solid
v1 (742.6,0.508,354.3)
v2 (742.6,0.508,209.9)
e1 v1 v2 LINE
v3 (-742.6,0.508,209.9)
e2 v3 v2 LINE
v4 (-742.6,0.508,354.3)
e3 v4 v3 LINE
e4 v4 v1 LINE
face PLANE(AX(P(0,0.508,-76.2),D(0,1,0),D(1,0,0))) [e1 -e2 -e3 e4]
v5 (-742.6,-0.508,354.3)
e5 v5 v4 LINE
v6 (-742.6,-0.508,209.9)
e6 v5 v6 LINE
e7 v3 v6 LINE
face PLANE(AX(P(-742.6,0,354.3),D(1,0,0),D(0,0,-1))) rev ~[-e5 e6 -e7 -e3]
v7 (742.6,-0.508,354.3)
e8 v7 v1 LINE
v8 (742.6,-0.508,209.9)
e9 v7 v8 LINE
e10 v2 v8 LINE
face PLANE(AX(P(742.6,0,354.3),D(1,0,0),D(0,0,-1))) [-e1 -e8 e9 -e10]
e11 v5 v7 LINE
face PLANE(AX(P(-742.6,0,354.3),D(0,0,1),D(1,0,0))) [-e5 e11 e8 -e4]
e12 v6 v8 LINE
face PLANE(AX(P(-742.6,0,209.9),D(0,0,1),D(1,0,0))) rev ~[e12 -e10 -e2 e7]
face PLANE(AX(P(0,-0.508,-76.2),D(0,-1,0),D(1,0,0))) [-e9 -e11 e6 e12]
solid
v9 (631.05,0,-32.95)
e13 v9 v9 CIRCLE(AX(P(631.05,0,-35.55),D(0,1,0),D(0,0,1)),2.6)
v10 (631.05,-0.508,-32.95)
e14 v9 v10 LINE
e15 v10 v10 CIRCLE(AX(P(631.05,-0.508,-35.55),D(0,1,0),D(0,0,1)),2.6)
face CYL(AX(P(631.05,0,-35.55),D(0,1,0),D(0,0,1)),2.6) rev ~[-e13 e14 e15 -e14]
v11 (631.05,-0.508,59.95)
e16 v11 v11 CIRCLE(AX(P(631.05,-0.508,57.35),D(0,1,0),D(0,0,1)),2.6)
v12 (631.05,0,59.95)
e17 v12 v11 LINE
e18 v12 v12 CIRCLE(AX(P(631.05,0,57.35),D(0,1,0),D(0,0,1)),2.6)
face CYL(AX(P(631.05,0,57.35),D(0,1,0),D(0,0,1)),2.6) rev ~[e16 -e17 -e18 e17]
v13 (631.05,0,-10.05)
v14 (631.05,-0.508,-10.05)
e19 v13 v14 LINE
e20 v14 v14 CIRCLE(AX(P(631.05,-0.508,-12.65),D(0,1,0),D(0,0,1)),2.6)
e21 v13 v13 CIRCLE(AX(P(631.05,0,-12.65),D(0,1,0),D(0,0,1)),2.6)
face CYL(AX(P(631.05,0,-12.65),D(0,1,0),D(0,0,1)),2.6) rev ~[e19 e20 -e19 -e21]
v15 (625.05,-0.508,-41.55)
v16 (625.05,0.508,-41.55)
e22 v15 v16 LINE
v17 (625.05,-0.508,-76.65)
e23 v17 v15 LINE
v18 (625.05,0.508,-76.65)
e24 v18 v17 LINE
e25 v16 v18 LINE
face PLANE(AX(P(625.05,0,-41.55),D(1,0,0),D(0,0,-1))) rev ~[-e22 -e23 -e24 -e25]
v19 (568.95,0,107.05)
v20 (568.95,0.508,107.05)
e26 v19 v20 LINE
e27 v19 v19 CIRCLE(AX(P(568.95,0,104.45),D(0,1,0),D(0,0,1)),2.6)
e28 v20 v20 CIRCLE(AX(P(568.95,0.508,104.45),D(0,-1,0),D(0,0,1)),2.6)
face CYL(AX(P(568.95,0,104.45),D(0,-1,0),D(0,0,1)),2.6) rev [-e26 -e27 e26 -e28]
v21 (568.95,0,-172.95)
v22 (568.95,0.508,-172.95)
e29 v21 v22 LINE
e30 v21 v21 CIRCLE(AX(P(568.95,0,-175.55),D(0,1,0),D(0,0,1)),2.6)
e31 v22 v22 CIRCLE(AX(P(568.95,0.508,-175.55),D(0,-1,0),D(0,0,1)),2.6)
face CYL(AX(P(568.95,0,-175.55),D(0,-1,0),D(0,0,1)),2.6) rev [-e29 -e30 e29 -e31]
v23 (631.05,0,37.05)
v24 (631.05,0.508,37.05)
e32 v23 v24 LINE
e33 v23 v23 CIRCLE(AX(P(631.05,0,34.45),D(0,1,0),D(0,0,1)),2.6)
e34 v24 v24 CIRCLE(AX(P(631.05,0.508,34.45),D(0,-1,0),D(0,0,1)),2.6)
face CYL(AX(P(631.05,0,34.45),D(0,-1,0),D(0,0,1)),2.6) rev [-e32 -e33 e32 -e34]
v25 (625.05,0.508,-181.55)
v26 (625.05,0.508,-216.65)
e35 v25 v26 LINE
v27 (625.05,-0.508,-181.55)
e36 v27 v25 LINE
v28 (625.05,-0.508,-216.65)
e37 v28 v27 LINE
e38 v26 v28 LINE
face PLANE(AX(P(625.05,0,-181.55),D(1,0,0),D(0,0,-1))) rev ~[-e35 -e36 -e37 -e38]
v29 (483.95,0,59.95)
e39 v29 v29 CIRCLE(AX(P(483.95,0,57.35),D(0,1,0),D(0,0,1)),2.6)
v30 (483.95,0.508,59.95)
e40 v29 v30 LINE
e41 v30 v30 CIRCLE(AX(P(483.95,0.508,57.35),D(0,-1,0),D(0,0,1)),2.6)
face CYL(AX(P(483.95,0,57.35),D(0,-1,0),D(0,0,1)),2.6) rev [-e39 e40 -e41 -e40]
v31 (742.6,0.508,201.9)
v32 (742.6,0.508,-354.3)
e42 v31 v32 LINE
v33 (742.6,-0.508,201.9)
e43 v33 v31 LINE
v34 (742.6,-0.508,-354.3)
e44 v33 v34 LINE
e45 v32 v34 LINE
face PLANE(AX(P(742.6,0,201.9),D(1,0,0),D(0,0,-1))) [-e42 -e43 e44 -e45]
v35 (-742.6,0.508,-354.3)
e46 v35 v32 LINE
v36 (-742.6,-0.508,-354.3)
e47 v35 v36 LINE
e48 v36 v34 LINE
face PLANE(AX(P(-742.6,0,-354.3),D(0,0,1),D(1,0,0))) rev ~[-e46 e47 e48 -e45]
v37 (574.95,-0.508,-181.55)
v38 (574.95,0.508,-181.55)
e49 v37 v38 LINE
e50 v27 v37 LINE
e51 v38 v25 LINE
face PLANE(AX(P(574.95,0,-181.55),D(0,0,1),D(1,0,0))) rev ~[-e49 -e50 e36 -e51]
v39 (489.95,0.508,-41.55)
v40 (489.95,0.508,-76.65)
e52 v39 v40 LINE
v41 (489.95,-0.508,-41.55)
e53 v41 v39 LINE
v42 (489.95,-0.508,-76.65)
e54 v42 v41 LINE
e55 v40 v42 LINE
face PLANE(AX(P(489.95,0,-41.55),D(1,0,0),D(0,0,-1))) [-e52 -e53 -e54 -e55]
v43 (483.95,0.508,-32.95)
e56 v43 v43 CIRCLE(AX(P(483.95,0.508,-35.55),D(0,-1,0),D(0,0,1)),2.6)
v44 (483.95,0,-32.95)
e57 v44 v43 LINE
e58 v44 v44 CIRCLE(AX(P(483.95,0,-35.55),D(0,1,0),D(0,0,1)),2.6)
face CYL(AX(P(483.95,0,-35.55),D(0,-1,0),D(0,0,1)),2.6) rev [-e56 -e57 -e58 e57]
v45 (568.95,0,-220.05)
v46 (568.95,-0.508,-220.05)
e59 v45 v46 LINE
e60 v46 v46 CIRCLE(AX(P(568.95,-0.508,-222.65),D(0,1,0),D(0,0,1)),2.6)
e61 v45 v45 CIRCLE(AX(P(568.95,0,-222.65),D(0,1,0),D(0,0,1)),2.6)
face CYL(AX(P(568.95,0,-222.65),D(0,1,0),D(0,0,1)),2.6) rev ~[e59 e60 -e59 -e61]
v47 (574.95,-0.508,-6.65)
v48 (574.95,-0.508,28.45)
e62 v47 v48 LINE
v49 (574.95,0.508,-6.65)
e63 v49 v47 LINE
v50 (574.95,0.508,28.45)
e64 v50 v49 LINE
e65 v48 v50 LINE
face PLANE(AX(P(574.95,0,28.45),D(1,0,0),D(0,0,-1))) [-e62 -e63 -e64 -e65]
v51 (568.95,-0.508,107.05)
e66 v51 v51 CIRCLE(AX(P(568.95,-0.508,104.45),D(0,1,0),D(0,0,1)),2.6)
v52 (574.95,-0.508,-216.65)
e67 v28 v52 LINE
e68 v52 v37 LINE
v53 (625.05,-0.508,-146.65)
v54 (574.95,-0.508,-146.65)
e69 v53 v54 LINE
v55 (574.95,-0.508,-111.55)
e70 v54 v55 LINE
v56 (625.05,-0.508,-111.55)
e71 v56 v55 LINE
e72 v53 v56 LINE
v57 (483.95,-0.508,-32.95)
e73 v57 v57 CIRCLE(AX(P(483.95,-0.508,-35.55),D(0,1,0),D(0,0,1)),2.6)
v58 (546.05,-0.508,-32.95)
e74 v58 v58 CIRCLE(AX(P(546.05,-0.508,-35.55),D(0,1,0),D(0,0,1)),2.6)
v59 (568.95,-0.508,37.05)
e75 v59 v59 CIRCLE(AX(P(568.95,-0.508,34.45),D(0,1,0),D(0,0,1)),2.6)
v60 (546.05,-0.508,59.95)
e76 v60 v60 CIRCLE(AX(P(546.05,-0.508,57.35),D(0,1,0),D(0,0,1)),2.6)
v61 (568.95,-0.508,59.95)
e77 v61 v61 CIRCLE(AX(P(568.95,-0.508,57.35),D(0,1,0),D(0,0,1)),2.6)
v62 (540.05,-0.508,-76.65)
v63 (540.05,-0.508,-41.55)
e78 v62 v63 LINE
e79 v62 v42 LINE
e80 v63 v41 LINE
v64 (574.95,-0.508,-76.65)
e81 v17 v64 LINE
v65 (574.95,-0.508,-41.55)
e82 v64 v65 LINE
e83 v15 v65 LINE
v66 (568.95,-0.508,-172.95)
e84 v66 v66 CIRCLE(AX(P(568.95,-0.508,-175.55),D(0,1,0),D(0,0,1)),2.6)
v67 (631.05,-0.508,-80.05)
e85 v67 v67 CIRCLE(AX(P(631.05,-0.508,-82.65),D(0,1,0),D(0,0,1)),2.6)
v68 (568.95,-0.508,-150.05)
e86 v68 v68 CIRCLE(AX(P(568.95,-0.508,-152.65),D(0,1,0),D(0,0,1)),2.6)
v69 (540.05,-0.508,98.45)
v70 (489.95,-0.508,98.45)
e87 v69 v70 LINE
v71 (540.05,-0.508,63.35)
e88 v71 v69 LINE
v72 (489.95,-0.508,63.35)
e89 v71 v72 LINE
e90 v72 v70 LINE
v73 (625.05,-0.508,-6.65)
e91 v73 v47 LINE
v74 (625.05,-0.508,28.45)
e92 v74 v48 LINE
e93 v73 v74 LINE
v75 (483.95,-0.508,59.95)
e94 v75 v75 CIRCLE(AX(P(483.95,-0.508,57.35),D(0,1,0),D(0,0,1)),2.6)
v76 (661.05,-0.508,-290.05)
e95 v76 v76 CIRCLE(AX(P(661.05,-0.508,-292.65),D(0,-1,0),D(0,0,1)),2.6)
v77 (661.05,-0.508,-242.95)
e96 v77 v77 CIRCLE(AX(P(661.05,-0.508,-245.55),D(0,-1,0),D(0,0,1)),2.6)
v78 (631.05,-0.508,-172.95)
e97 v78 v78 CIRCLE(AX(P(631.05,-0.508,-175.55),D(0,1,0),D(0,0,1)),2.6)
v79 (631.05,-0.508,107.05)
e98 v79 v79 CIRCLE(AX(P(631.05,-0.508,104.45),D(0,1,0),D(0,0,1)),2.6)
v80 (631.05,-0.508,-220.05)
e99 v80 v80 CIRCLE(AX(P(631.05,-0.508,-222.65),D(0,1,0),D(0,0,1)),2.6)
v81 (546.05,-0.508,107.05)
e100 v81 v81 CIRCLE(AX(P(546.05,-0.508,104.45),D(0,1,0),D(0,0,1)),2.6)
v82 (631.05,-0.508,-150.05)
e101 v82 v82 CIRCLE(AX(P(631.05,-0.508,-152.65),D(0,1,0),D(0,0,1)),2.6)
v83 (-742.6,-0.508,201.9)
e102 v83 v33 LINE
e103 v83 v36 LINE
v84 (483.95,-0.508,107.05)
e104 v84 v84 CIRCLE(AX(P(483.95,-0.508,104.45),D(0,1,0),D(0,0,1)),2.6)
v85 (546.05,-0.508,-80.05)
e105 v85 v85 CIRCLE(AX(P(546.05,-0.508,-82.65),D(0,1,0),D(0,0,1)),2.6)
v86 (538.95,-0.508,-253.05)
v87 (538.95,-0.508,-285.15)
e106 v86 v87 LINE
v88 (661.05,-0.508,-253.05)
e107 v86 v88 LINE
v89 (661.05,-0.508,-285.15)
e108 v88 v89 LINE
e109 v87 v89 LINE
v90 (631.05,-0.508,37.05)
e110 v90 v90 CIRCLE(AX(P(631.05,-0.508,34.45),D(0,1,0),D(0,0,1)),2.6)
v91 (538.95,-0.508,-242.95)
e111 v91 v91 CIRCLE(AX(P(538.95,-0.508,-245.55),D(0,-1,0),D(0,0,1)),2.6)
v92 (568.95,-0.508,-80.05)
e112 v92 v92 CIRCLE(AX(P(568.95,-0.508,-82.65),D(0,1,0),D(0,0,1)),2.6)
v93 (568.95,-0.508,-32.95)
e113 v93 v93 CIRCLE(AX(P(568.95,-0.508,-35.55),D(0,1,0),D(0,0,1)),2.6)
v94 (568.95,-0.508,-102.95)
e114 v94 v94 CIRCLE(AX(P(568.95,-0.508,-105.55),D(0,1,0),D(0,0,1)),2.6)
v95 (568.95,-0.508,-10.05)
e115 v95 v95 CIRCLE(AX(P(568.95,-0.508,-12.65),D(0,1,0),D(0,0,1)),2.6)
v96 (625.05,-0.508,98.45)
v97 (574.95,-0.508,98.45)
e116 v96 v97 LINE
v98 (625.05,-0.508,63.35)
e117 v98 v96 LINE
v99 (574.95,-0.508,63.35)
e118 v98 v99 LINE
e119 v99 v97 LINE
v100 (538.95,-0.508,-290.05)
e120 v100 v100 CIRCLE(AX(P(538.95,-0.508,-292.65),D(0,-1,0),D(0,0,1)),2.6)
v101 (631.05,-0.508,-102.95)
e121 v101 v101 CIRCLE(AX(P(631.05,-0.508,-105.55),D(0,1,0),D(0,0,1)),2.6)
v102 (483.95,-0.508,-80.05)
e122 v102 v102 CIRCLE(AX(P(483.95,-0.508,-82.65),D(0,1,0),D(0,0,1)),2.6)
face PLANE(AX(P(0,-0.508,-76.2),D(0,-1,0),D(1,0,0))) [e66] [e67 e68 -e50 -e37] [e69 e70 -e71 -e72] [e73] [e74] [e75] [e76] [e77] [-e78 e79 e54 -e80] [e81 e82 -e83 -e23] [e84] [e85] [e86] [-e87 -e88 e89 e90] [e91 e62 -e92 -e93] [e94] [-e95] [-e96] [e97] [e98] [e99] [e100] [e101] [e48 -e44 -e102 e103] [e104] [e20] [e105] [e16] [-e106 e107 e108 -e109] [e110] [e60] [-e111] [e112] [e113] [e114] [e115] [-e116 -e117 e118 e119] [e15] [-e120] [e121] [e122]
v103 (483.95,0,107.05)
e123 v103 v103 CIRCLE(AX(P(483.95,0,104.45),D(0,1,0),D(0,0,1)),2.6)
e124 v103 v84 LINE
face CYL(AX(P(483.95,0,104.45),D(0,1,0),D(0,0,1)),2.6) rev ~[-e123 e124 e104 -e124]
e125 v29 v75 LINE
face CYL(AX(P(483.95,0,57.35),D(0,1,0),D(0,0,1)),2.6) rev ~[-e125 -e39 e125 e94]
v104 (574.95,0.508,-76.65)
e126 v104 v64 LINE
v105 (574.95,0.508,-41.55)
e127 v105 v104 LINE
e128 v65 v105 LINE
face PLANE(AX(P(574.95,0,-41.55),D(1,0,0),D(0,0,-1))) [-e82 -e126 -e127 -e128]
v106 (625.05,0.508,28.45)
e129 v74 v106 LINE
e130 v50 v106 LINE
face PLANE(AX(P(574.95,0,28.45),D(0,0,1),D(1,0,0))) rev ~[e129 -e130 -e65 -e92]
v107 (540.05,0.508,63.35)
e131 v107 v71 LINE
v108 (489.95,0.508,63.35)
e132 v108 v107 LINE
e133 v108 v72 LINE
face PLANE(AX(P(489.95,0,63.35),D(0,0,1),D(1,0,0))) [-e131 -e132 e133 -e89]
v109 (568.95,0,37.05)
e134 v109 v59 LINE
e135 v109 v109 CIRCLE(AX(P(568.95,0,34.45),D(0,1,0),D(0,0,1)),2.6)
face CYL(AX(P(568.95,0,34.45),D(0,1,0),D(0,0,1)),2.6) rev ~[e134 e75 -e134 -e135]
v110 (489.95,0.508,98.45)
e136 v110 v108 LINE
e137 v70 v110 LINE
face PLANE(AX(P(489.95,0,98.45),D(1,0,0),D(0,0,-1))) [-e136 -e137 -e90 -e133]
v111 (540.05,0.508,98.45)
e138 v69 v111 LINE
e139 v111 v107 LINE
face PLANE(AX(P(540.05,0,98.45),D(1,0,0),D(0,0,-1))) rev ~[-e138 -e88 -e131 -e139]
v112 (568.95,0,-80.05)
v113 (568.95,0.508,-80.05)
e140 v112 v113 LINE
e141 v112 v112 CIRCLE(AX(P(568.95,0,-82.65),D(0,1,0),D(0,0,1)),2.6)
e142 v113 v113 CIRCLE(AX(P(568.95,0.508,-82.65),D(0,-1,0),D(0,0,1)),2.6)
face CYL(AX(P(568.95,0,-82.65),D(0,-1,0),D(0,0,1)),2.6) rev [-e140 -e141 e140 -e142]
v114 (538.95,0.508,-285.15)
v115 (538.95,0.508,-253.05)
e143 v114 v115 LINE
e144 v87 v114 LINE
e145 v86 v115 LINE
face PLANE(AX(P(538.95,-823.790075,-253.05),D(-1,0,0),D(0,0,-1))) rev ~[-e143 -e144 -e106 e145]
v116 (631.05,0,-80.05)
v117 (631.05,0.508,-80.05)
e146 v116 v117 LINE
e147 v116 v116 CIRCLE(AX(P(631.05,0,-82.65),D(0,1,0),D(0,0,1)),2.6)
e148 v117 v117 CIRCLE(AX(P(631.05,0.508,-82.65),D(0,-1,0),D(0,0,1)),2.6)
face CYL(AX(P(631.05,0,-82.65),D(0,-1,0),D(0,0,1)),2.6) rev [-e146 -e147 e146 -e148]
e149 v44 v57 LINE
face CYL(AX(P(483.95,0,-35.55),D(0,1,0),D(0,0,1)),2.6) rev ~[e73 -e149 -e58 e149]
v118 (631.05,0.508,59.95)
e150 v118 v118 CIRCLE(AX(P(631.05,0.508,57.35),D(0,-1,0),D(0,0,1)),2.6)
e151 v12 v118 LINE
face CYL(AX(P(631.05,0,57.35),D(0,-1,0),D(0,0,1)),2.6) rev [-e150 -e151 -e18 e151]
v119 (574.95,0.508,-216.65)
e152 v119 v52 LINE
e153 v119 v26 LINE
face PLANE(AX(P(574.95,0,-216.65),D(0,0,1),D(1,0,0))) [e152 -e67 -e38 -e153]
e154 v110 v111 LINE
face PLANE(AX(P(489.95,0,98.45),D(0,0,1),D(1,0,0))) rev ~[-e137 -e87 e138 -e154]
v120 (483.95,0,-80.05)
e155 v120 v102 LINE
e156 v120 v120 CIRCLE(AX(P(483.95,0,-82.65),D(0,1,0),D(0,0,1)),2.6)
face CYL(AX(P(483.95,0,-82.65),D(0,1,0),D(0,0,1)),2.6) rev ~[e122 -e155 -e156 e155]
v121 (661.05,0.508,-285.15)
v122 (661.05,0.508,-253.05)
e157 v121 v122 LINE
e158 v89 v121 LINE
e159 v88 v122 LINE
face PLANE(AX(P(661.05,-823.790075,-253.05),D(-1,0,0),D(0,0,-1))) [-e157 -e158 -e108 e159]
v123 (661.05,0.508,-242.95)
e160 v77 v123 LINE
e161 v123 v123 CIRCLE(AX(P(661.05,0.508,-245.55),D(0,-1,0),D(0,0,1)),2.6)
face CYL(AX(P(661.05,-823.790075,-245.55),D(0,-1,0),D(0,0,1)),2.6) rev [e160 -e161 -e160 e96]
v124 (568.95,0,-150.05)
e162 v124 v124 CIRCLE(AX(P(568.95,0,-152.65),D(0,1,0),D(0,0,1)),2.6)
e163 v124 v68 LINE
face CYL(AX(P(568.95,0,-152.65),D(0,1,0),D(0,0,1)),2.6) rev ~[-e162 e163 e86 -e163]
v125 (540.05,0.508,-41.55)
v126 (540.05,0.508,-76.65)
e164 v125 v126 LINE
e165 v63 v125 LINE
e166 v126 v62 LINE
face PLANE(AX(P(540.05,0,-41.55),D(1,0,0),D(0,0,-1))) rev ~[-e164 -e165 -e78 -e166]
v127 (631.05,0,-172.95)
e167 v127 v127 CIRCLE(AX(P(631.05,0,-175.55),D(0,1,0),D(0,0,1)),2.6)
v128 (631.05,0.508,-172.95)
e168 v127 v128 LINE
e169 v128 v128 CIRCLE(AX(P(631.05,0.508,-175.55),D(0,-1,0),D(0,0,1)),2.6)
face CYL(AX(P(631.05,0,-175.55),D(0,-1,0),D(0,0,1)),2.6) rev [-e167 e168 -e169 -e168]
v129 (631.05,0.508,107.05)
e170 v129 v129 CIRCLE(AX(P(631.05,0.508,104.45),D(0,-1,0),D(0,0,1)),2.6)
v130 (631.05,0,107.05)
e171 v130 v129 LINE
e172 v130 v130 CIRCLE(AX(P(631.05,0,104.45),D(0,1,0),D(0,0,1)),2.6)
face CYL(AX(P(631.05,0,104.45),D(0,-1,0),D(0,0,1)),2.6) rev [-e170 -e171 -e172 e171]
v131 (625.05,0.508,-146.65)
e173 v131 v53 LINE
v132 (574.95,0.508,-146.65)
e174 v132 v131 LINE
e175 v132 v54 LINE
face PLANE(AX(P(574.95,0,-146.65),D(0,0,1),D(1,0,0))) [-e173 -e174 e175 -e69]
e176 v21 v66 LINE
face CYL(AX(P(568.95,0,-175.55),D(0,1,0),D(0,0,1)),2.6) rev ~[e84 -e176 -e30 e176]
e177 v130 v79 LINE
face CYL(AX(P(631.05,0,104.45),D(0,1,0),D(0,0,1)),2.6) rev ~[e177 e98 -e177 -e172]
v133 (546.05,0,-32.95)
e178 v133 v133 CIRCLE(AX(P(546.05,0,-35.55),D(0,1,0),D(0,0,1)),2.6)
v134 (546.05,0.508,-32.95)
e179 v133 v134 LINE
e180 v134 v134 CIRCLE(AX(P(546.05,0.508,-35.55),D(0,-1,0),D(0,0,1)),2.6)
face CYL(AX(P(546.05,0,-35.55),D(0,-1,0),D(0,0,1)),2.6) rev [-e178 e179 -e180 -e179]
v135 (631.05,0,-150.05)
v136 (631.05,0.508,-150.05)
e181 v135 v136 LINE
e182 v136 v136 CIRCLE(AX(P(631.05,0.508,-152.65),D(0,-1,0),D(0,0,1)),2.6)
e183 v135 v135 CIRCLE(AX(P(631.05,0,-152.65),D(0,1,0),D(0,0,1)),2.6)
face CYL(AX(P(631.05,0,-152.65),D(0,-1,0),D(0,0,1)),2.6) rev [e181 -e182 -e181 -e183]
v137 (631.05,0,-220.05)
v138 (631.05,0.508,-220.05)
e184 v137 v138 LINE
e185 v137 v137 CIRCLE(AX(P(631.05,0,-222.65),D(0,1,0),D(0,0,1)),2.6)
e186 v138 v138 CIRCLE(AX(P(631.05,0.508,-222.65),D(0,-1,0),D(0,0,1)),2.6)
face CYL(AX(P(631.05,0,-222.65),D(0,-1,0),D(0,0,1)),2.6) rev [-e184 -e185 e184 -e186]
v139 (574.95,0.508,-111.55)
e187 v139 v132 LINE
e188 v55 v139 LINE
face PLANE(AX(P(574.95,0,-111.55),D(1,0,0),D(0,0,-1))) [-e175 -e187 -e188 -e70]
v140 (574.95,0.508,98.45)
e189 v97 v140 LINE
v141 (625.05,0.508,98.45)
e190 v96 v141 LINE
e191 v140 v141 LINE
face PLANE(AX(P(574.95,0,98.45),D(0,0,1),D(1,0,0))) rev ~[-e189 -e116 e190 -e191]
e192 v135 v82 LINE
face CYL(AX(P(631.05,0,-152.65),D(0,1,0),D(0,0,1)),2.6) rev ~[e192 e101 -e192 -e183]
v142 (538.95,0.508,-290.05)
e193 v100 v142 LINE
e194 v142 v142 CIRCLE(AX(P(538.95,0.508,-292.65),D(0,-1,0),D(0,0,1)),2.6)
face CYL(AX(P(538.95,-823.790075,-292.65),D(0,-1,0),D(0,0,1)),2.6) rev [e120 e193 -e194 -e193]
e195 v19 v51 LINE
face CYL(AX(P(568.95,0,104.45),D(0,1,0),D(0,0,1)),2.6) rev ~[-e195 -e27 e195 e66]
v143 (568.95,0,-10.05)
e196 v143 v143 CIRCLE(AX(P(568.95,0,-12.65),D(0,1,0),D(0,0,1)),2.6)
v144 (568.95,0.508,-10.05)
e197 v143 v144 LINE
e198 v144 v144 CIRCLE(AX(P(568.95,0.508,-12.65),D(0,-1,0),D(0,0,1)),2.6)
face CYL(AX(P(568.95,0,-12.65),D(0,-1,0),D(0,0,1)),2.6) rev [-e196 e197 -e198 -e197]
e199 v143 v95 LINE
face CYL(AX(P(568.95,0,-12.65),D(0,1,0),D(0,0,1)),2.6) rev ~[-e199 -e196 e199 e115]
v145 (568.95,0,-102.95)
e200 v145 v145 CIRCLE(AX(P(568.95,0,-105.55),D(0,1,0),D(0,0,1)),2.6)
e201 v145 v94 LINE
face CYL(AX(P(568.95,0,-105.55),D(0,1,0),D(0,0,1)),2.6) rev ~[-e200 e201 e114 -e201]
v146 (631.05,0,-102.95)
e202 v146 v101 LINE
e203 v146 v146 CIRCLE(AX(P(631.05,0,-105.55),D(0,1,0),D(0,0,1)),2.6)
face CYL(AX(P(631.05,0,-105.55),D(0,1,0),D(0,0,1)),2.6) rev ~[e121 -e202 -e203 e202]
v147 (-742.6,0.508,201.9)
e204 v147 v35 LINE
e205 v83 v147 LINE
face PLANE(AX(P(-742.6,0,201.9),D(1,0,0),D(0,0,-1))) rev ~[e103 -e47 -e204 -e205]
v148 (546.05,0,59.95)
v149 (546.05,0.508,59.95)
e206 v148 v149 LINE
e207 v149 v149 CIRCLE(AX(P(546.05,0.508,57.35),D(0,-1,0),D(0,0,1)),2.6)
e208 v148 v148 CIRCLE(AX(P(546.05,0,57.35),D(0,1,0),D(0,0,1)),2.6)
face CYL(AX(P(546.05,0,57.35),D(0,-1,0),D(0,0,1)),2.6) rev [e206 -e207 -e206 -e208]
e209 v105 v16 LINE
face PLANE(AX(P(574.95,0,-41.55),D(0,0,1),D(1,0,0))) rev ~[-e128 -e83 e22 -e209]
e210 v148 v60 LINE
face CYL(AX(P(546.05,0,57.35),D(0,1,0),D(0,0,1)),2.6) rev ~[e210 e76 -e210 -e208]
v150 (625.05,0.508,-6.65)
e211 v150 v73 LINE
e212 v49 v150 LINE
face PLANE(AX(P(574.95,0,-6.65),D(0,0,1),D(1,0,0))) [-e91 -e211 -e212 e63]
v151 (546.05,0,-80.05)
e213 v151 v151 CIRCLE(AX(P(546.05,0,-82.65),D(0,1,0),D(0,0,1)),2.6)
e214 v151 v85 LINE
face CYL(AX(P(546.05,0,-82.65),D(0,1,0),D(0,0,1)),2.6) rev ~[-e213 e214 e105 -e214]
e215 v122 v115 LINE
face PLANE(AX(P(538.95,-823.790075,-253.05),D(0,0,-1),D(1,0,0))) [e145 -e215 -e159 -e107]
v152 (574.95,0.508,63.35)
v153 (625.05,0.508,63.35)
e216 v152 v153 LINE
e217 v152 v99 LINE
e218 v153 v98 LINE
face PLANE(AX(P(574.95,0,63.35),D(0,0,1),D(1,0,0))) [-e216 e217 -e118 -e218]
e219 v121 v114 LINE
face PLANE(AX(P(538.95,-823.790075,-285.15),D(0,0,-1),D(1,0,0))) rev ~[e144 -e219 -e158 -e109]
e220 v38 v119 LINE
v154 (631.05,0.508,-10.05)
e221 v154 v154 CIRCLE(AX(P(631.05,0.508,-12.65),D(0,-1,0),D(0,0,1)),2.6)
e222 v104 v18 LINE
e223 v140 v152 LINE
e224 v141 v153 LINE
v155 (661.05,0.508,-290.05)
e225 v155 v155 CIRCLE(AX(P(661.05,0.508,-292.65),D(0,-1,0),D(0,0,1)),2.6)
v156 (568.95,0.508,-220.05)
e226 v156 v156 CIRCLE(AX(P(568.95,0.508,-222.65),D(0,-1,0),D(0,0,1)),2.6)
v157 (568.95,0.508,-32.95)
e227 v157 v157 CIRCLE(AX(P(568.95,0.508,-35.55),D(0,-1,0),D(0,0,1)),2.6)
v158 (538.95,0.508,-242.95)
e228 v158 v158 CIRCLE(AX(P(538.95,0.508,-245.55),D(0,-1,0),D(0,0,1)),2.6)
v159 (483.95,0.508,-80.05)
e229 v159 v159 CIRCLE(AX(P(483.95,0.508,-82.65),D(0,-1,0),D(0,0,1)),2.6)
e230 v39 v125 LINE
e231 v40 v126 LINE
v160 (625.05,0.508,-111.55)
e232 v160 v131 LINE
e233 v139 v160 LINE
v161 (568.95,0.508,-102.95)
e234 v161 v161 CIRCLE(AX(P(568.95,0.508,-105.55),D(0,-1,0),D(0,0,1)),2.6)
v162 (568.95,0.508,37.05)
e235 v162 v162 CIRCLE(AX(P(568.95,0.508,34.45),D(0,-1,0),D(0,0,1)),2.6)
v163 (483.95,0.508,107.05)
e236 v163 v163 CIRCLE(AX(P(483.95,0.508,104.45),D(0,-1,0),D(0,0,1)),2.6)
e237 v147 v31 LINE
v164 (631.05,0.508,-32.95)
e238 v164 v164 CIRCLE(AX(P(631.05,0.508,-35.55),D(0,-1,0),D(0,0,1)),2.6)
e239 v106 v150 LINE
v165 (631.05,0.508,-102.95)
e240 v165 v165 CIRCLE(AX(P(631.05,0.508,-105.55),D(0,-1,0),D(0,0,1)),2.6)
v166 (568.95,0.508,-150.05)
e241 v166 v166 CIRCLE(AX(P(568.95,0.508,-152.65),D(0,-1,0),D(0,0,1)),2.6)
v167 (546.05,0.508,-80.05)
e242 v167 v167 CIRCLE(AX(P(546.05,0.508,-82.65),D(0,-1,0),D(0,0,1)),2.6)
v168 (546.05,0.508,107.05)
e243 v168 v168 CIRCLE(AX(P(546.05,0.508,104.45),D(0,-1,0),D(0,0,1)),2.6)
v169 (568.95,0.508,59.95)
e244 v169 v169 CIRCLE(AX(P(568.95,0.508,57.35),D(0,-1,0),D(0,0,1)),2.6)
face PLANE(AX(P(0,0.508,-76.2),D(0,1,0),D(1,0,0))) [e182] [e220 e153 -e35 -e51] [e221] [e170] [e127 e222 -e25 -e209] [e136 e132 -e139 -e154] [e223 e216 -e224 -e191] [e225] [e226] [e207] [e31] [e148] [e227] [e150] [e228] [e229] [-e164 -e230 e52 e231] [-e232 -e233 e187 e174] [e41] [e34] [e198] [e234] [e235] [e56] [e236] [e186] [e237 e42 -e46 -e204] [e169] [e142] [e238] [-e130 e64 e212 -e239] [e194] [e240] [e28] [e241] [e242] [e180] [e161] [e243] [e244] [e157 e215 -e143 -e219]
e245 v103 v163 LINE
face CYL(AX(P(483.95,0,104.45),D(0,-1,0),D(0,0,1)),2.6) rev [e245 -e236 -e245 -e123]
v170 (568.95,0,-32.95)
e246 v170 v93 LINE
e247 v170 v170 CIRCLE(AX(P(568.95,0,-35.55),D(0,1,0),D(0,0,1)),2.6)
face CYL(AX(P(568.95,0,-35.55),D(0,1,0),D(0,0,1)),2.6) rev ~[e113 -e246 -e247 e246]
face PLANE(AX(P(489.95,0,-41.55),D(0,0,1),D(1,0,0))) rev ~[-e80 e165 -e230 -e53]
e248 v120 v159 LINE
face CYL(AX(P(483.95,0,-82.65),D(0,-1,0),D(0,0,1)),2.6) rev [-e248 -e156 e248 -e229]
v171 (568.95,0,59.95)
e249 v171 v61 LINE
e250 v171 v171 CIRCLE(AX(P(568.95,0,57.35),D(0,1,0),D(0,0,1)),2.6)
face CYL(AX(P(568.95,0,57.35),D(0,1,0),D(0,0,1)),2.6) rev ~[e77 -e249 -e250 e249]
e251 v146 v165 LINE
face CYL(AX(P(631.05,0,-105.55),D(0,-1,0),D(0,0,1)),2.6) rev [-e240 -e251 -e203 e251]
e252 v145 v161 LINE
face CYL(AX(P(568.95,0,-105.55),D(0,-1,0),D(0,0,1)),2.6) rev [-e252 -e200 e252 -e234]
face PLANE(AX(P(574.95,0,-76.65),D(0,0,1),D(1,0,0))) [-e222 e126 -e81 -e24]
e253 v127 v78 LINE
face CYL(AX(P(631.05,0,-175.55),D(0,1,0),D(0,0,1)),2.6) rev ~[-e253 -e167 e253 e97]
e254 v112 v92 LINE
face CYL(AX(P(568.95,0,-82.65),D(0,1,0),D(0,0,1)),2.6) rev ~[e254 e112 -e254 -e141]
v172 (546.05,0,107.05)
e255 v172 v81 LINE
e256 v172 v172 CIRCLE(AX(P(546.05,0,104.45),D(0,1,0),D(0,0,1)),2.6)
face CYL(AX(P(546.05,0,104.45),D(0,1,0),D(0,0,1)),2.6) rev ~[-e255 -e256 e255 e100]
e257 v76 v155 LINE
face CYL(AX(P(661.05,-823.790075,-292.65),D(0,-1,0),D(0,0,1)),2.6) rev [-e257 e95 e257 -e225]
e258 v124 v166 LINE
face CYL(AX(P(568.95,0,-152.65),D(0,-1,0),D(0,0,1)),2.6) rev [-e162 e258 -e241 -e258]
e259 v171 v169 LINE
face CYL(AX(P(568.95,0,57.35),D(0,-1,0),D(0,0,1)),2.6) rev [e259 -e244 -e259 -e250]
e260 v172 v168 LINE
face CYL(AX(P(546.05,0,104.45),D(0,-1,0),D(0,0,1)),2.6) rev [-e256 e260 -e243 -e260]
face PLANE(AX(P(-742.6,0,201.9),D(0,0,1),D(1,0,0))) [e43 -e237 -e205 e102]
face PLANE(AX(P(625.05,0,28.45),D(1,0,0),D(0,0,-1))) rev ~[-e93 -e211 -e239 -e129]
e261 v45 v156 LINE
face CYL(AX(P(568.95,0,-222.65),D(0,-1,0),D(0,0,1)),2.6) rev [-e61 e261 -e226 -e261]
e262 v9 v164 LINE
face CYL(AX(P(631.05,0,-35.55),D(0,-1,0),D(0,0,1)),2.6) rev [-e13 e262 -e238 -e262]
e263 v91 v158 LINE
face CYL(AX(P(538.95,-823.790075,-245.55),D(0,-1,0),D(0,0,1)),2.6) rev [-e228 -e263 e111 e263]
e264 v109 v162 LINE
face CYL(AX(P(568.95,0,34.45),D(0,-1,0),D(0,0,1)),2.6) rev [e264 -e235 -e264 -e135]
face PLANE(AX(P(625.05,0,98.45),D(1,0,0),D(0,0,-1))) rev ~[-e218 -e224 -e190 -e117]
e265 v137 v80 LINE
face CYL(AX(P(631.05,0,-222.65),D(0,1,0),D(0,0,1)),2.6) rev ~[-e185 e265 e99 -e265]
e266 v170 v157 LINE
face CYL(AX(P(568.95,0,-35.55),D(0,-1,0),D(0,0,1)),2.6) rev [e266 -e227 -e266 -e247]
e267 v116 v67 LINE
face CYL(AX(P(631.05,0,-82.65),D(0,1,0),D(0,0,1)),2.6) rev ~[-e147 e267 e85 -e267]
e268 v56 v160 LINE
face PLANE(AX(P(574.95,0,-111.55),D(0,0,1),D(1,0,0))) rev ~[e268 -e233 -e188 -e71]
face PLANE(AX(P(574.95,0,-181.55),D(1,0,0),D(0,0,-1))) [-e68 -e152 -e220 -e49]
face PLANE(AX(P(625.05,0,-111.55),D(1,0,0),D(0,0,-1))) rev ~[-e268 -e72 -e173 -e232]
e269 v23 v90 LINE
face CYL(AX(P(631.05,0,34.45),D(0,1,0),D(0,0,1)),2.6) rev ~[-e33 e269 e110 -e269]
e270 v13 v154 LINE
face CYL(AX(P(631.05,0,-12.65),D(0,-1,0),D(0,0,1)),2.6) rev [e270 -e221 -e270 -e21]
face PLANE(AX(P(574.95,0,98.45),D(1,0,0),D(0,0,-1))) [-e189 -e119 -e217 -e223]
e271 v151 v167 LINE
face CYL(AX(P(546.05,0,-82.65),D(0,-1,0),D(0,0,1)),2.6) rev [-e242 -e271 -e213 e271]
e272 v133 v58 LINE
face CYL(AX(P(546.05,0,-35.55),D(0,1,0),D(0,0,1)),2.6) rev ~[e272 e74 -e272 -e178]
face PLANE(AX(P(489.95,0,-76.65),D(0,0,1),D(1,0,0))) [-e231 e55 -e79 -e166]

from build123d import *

# Parameters (mm, degrees)
BOSS_EXTRUDE1_DEPTH             = 0.508
BOSS_EXTRUDE1_DEPTH_BACK        = 0.508
SKETCH1_W                       = 1473.2
SKETCH1_H                       = 544.2
BOSS_EXTRUDE1_2_DEPTH           = 0.508
BOSS_EXTRUDE1_2_DEPTH_BACK      = 0.508
SKETCH1_H_2                     = 132.4
BOSS_EXTRUDE2_REACH             = 816.796
SKETCH2_W                       = 1485.2
SKETCH2_H                       = 556.2
SKETCH2_W_2                     = 1473.2
SKETCH2_H_2                     = 544.2
SKETCH2_H_3                     = 144.4
SKETCH2_H_4                     = 132.4
BOSS_EXTRUDE2_DIRECTION_2_REACH = 816.796
SKETCH3_R                       = 2.6
SKETCH3_W                       = 50.1
SKETCH3_H                       = 35.1
CUT_EXTRUDE1_DEPTH              = 823.790075332
LPATTERN1_COUNT                 = 5
LPATTERN1_PITCH                 = 70
LPATTERN1_COUNT_DIR2            = 2
LPATTERN1_PITCH_DIR2            = 85
CUT_EXTRUDE2_DEPTH              = 823.790075332
CUT_EXTRUDE2_DEPTH_BACK         = 823.790075332
SKETCH4_R                       = 2.6
SKETCH4_W                       = 122.1
SKETCH4_H                       = 32.1


with BuildPart() as part:
    # Sketch1 → Boss-Extrude1 (new, two sides: drawn at the far end of the back side and taken through both)
    with BuildSketch(Plane(origin=(0, 0, 0), x_dir=(1, 0, 0), z_dir=(0, 1, 0)).offset(-BOSS_EXTRUDE1_DEPTH_BACK)):
        with Locations((0, 76.2)):
            Rectangle(SKETCH1_W, SKETCH1_H)
    extrude(amount=BOSS_EXTRUDE1_DEPTH + BOSS_EXTRUDE1_DEPTH_BACK)

    # Boss-Extrude2: up to this face of the body (flat: up to its plane)
    boss_extrude2_end = Plane(part.part.faces().sort_by_distance((0, 0.508, -76.2))[0])
    # Sketch2 → Boss-Extrude2 (add, up to the picked face)
    with BuildSketch(Plane(origin=(0, 0, 0), x_dir=(1, 0, 0), z_dir=(0, 1, 0)), mode=Mode.PRIVATE) as boss_extrude2_sk1:
        with Locations((0, 76.2)):
            Rectangle(SKETCH2_W, SKETCH2_H)
        with Locations((0, 76.2)):
            Rectangle(SKETCH2_W_2, SKETCH2_H_2, mode=Mode.SUBTRACT)
    boss_extrude2_tool1 = split(extrude(boss_extrude2_sk1.sketch, amount=BOSS_EXTRUDE2_REACH, mode=Mode.PRIVATE), bisect_by=boss_extrude2_end, keep=Keep.BOTH, mode=Mode.PRIVATE)
    # Sketch2 → Boss-Extrude2 (add, up to the picked face)
    with BuildSketch(Plane(origin=(0, 0, 0), x_dir=(1, 0, 0), z_dir=(0, 1, 0)), mode=Mode.PRIVATE) as boss_extrude2_sk2:
        with Locations((0, -282.1)):
            Rectangle(SKETCH2_W, SKETCH2_H_3)
        with Locations((0, -282.1)):
            Rectangle(SKETCH2_W_2, SKETCH2_H_4, mode=Mode.SUBTRACT)
    boss_extrude2_tool2 = split(extrude(boss_extrude2_sk2.sketch, amount=BOSS_EXTRUDE2_REACH, mode=Mode.PRIVATE), bisect_by=boss_extrude2_end, keep=Keep.BOTH, mode=Mode.PRIVATE)


with BuildPart() as body_2:
    # Sketch1 → Boss-Extrude1 2 (new, two sides: drawn at the far end of the back side and taken through both)
    with BuildSketch(Plane(origin=(0, 0, 0), x_dir=(1, 0, 0), z_dir=(0, 1, 0)).offset(-BOSS_EXTRUDE1_2_DEPTH_BACK)):
        with Locations((0, -282.1)):
            Rectangle(SKETCH1_W, SKETCH1_H_2)
    extrude(amount=BOSS_EXTRUDE1_2_DEPTH + BOSS_EXTRUDE1_2_DEPTH_BACK)


with BuildPart() as part_1:
    add(part.part)

    add(body_2.part)  # Boss-Extrude2 merges body 2
    add(boss_extrude2_tool1.solids().sort_by(Axis((0, 0, -352.714069), (0, 1, 0)))[0])
    add(boss_extrude2_tool2.solids().sort_by(Axis((0, 0, 352.807797), (0, 1, 0)))[0])

    # Boss-Extrude2 direction 2: up to this face of the body (flat: up to its plane)
    boss_extrude2_direction_2_end = Plane(part_1.part.faces().sort_by_distance((0, -0.508, -76.2))[0])
    # Sketch2 → Boss-Extrude2 direction 2 (add, up to the picked face)
    with BuildSketch(Plane(origin=(0, 0, 0), x_dir=(1, 0, 0), z_dir=(0, 1, 0)), mode=Mode.PRIVATE) as boss_extrude2_direction_2_sk1:
        with Locations((0, 76.2)):
            Rectangle(SKETCH2_W, SKETCH2_H)
        with Locations((0, 76.2)):
            Rectangle(SKETCH2_W_2, SKETCH2_H_2, mode=Mode.SUBTRACT)
    boss_extrude2_direction_2_tool1 = split(extrude(boss_extrude2_direction_2_sk1.sketch, amount=-BOSS_EXTRUDE2_DIRECTION_2_REACH, mode=Mode.PRIVATE), bisect_by=boss_extrude2_direction_2_end, keep=Keep.BOTH, mode=Mode.PRIVATE)
    # Sketch2 → Boss-Extrude2 direction 2 (add, up to the picked face)
    with BuildSketch(Plane(origin=(0, 0, 0), x_dir=(1, 0, 0), z_dir=(0, 1, 0)), mode=Mode.PRIVATE) as boss_extrude2_direction_2_sk2:
        with Locations((0, -282.1)):
            Rectangle(SKETCH2_W, SKETCH2_H_3)
        with Locations((0, -282.1)):
            Rectangle(SKETCH2_W_2, SKETCH2_H_4, mode=Mode.SUBTRACT)
    boss_extrude2_direction_2_tool2 = split(extrude(boss_extrude2_direction_2_sk2.sketch, amount=-BOSS_EXTRUDE2_DIRECTION_2_REACH, mode=Mode.PRIVATE), bisect_by=boss_extrude2_direction_2_end, keep=Keep.BOTH, mode=Mode.PRIVATE)
    add(boss_extrude2_direction_2_tool1.solids().sort_by(Axis((0, 0, -352.714069), (0, -1, 0)))[0])
    add(boss_extrude2_direction_2_tool2.solids().sort_by(Axis((0, 0, 352.807797), (0, -1, 0)))[0])

    # Sketch3 → Cut-Extrude1 (cut, symmetric)
    with BuildSketch(Plane(origin=(0, 0, 0), x_dir=(1, 0, 0), z_dir=(0, 1, 0))):
        with Locations((568.95, -104.45)):
            Circle(SKETCH3_R)
        with Locations((631.05, -104.45)):
            Circle(SKETCH3_R)
        with Locations((631.05, -57.35)):
            Circle(SKETCH3_R)
        with Locations((568.95, -57.35)):
            Circle(SKETCH3_R)
        with Locations((600, -80.9)):
            Rectangle(SKETCH3_W, SKETCH3_H)
    cut_extrude1 = extrude(amount=CUT_EXTRUDE1_DEPTH, both=True, mode=Mode.SUBTRACT)

    # LPattern1: Cut-Extrude1 5 × 2, 3 skipped
    with Locations(*[(-j * LPATTERN1_PITCH_DIR2, 0, -i * LPATTERN1_PITCH) for i in range(LPATTERN1_COUNT) for j in range(LPATTERN1_COUNT_DIR2) if (i, j) not in ((0, 0), (1, 1), (3, 1), (4, 1))]):
        add(cut_extrude1, mode=Mode.SUBTRACT)

    # Sketch4 → Cut-Extrude2 (cut, two sides: drawn at the far end of the back side and taken through both)
    with BuildSketch(Plane(origin=(0, 0, 0), x_dir=(1, 0, 0), z_dir=(0, 1, 0)).offset(-CUT_EXTRUDE2_DEPTH_BACK)):
        with Locations((661.05, 245.55)):
            Circle(SKETCH4_R)
        with Locations((661.05, 292.65)):
            Circle(SKETCH4_R)
        with Locations((538.95, 245.55)):
            Circle(SKETCH4_R)
        with Locations((538.95, 292.65)):
            Circle(SKETCH4_R)
        with Locations((600, 269.1)):
            Rectangle(SKETCH4_W, SKETCH4_H)
    extrude(amount=CUT_EXTRUDE2_DEPTH + CUT_EXTRUDE2_DEPTH_BACK, mode=Mode.SUBTRACT)


solid = part_1.part
